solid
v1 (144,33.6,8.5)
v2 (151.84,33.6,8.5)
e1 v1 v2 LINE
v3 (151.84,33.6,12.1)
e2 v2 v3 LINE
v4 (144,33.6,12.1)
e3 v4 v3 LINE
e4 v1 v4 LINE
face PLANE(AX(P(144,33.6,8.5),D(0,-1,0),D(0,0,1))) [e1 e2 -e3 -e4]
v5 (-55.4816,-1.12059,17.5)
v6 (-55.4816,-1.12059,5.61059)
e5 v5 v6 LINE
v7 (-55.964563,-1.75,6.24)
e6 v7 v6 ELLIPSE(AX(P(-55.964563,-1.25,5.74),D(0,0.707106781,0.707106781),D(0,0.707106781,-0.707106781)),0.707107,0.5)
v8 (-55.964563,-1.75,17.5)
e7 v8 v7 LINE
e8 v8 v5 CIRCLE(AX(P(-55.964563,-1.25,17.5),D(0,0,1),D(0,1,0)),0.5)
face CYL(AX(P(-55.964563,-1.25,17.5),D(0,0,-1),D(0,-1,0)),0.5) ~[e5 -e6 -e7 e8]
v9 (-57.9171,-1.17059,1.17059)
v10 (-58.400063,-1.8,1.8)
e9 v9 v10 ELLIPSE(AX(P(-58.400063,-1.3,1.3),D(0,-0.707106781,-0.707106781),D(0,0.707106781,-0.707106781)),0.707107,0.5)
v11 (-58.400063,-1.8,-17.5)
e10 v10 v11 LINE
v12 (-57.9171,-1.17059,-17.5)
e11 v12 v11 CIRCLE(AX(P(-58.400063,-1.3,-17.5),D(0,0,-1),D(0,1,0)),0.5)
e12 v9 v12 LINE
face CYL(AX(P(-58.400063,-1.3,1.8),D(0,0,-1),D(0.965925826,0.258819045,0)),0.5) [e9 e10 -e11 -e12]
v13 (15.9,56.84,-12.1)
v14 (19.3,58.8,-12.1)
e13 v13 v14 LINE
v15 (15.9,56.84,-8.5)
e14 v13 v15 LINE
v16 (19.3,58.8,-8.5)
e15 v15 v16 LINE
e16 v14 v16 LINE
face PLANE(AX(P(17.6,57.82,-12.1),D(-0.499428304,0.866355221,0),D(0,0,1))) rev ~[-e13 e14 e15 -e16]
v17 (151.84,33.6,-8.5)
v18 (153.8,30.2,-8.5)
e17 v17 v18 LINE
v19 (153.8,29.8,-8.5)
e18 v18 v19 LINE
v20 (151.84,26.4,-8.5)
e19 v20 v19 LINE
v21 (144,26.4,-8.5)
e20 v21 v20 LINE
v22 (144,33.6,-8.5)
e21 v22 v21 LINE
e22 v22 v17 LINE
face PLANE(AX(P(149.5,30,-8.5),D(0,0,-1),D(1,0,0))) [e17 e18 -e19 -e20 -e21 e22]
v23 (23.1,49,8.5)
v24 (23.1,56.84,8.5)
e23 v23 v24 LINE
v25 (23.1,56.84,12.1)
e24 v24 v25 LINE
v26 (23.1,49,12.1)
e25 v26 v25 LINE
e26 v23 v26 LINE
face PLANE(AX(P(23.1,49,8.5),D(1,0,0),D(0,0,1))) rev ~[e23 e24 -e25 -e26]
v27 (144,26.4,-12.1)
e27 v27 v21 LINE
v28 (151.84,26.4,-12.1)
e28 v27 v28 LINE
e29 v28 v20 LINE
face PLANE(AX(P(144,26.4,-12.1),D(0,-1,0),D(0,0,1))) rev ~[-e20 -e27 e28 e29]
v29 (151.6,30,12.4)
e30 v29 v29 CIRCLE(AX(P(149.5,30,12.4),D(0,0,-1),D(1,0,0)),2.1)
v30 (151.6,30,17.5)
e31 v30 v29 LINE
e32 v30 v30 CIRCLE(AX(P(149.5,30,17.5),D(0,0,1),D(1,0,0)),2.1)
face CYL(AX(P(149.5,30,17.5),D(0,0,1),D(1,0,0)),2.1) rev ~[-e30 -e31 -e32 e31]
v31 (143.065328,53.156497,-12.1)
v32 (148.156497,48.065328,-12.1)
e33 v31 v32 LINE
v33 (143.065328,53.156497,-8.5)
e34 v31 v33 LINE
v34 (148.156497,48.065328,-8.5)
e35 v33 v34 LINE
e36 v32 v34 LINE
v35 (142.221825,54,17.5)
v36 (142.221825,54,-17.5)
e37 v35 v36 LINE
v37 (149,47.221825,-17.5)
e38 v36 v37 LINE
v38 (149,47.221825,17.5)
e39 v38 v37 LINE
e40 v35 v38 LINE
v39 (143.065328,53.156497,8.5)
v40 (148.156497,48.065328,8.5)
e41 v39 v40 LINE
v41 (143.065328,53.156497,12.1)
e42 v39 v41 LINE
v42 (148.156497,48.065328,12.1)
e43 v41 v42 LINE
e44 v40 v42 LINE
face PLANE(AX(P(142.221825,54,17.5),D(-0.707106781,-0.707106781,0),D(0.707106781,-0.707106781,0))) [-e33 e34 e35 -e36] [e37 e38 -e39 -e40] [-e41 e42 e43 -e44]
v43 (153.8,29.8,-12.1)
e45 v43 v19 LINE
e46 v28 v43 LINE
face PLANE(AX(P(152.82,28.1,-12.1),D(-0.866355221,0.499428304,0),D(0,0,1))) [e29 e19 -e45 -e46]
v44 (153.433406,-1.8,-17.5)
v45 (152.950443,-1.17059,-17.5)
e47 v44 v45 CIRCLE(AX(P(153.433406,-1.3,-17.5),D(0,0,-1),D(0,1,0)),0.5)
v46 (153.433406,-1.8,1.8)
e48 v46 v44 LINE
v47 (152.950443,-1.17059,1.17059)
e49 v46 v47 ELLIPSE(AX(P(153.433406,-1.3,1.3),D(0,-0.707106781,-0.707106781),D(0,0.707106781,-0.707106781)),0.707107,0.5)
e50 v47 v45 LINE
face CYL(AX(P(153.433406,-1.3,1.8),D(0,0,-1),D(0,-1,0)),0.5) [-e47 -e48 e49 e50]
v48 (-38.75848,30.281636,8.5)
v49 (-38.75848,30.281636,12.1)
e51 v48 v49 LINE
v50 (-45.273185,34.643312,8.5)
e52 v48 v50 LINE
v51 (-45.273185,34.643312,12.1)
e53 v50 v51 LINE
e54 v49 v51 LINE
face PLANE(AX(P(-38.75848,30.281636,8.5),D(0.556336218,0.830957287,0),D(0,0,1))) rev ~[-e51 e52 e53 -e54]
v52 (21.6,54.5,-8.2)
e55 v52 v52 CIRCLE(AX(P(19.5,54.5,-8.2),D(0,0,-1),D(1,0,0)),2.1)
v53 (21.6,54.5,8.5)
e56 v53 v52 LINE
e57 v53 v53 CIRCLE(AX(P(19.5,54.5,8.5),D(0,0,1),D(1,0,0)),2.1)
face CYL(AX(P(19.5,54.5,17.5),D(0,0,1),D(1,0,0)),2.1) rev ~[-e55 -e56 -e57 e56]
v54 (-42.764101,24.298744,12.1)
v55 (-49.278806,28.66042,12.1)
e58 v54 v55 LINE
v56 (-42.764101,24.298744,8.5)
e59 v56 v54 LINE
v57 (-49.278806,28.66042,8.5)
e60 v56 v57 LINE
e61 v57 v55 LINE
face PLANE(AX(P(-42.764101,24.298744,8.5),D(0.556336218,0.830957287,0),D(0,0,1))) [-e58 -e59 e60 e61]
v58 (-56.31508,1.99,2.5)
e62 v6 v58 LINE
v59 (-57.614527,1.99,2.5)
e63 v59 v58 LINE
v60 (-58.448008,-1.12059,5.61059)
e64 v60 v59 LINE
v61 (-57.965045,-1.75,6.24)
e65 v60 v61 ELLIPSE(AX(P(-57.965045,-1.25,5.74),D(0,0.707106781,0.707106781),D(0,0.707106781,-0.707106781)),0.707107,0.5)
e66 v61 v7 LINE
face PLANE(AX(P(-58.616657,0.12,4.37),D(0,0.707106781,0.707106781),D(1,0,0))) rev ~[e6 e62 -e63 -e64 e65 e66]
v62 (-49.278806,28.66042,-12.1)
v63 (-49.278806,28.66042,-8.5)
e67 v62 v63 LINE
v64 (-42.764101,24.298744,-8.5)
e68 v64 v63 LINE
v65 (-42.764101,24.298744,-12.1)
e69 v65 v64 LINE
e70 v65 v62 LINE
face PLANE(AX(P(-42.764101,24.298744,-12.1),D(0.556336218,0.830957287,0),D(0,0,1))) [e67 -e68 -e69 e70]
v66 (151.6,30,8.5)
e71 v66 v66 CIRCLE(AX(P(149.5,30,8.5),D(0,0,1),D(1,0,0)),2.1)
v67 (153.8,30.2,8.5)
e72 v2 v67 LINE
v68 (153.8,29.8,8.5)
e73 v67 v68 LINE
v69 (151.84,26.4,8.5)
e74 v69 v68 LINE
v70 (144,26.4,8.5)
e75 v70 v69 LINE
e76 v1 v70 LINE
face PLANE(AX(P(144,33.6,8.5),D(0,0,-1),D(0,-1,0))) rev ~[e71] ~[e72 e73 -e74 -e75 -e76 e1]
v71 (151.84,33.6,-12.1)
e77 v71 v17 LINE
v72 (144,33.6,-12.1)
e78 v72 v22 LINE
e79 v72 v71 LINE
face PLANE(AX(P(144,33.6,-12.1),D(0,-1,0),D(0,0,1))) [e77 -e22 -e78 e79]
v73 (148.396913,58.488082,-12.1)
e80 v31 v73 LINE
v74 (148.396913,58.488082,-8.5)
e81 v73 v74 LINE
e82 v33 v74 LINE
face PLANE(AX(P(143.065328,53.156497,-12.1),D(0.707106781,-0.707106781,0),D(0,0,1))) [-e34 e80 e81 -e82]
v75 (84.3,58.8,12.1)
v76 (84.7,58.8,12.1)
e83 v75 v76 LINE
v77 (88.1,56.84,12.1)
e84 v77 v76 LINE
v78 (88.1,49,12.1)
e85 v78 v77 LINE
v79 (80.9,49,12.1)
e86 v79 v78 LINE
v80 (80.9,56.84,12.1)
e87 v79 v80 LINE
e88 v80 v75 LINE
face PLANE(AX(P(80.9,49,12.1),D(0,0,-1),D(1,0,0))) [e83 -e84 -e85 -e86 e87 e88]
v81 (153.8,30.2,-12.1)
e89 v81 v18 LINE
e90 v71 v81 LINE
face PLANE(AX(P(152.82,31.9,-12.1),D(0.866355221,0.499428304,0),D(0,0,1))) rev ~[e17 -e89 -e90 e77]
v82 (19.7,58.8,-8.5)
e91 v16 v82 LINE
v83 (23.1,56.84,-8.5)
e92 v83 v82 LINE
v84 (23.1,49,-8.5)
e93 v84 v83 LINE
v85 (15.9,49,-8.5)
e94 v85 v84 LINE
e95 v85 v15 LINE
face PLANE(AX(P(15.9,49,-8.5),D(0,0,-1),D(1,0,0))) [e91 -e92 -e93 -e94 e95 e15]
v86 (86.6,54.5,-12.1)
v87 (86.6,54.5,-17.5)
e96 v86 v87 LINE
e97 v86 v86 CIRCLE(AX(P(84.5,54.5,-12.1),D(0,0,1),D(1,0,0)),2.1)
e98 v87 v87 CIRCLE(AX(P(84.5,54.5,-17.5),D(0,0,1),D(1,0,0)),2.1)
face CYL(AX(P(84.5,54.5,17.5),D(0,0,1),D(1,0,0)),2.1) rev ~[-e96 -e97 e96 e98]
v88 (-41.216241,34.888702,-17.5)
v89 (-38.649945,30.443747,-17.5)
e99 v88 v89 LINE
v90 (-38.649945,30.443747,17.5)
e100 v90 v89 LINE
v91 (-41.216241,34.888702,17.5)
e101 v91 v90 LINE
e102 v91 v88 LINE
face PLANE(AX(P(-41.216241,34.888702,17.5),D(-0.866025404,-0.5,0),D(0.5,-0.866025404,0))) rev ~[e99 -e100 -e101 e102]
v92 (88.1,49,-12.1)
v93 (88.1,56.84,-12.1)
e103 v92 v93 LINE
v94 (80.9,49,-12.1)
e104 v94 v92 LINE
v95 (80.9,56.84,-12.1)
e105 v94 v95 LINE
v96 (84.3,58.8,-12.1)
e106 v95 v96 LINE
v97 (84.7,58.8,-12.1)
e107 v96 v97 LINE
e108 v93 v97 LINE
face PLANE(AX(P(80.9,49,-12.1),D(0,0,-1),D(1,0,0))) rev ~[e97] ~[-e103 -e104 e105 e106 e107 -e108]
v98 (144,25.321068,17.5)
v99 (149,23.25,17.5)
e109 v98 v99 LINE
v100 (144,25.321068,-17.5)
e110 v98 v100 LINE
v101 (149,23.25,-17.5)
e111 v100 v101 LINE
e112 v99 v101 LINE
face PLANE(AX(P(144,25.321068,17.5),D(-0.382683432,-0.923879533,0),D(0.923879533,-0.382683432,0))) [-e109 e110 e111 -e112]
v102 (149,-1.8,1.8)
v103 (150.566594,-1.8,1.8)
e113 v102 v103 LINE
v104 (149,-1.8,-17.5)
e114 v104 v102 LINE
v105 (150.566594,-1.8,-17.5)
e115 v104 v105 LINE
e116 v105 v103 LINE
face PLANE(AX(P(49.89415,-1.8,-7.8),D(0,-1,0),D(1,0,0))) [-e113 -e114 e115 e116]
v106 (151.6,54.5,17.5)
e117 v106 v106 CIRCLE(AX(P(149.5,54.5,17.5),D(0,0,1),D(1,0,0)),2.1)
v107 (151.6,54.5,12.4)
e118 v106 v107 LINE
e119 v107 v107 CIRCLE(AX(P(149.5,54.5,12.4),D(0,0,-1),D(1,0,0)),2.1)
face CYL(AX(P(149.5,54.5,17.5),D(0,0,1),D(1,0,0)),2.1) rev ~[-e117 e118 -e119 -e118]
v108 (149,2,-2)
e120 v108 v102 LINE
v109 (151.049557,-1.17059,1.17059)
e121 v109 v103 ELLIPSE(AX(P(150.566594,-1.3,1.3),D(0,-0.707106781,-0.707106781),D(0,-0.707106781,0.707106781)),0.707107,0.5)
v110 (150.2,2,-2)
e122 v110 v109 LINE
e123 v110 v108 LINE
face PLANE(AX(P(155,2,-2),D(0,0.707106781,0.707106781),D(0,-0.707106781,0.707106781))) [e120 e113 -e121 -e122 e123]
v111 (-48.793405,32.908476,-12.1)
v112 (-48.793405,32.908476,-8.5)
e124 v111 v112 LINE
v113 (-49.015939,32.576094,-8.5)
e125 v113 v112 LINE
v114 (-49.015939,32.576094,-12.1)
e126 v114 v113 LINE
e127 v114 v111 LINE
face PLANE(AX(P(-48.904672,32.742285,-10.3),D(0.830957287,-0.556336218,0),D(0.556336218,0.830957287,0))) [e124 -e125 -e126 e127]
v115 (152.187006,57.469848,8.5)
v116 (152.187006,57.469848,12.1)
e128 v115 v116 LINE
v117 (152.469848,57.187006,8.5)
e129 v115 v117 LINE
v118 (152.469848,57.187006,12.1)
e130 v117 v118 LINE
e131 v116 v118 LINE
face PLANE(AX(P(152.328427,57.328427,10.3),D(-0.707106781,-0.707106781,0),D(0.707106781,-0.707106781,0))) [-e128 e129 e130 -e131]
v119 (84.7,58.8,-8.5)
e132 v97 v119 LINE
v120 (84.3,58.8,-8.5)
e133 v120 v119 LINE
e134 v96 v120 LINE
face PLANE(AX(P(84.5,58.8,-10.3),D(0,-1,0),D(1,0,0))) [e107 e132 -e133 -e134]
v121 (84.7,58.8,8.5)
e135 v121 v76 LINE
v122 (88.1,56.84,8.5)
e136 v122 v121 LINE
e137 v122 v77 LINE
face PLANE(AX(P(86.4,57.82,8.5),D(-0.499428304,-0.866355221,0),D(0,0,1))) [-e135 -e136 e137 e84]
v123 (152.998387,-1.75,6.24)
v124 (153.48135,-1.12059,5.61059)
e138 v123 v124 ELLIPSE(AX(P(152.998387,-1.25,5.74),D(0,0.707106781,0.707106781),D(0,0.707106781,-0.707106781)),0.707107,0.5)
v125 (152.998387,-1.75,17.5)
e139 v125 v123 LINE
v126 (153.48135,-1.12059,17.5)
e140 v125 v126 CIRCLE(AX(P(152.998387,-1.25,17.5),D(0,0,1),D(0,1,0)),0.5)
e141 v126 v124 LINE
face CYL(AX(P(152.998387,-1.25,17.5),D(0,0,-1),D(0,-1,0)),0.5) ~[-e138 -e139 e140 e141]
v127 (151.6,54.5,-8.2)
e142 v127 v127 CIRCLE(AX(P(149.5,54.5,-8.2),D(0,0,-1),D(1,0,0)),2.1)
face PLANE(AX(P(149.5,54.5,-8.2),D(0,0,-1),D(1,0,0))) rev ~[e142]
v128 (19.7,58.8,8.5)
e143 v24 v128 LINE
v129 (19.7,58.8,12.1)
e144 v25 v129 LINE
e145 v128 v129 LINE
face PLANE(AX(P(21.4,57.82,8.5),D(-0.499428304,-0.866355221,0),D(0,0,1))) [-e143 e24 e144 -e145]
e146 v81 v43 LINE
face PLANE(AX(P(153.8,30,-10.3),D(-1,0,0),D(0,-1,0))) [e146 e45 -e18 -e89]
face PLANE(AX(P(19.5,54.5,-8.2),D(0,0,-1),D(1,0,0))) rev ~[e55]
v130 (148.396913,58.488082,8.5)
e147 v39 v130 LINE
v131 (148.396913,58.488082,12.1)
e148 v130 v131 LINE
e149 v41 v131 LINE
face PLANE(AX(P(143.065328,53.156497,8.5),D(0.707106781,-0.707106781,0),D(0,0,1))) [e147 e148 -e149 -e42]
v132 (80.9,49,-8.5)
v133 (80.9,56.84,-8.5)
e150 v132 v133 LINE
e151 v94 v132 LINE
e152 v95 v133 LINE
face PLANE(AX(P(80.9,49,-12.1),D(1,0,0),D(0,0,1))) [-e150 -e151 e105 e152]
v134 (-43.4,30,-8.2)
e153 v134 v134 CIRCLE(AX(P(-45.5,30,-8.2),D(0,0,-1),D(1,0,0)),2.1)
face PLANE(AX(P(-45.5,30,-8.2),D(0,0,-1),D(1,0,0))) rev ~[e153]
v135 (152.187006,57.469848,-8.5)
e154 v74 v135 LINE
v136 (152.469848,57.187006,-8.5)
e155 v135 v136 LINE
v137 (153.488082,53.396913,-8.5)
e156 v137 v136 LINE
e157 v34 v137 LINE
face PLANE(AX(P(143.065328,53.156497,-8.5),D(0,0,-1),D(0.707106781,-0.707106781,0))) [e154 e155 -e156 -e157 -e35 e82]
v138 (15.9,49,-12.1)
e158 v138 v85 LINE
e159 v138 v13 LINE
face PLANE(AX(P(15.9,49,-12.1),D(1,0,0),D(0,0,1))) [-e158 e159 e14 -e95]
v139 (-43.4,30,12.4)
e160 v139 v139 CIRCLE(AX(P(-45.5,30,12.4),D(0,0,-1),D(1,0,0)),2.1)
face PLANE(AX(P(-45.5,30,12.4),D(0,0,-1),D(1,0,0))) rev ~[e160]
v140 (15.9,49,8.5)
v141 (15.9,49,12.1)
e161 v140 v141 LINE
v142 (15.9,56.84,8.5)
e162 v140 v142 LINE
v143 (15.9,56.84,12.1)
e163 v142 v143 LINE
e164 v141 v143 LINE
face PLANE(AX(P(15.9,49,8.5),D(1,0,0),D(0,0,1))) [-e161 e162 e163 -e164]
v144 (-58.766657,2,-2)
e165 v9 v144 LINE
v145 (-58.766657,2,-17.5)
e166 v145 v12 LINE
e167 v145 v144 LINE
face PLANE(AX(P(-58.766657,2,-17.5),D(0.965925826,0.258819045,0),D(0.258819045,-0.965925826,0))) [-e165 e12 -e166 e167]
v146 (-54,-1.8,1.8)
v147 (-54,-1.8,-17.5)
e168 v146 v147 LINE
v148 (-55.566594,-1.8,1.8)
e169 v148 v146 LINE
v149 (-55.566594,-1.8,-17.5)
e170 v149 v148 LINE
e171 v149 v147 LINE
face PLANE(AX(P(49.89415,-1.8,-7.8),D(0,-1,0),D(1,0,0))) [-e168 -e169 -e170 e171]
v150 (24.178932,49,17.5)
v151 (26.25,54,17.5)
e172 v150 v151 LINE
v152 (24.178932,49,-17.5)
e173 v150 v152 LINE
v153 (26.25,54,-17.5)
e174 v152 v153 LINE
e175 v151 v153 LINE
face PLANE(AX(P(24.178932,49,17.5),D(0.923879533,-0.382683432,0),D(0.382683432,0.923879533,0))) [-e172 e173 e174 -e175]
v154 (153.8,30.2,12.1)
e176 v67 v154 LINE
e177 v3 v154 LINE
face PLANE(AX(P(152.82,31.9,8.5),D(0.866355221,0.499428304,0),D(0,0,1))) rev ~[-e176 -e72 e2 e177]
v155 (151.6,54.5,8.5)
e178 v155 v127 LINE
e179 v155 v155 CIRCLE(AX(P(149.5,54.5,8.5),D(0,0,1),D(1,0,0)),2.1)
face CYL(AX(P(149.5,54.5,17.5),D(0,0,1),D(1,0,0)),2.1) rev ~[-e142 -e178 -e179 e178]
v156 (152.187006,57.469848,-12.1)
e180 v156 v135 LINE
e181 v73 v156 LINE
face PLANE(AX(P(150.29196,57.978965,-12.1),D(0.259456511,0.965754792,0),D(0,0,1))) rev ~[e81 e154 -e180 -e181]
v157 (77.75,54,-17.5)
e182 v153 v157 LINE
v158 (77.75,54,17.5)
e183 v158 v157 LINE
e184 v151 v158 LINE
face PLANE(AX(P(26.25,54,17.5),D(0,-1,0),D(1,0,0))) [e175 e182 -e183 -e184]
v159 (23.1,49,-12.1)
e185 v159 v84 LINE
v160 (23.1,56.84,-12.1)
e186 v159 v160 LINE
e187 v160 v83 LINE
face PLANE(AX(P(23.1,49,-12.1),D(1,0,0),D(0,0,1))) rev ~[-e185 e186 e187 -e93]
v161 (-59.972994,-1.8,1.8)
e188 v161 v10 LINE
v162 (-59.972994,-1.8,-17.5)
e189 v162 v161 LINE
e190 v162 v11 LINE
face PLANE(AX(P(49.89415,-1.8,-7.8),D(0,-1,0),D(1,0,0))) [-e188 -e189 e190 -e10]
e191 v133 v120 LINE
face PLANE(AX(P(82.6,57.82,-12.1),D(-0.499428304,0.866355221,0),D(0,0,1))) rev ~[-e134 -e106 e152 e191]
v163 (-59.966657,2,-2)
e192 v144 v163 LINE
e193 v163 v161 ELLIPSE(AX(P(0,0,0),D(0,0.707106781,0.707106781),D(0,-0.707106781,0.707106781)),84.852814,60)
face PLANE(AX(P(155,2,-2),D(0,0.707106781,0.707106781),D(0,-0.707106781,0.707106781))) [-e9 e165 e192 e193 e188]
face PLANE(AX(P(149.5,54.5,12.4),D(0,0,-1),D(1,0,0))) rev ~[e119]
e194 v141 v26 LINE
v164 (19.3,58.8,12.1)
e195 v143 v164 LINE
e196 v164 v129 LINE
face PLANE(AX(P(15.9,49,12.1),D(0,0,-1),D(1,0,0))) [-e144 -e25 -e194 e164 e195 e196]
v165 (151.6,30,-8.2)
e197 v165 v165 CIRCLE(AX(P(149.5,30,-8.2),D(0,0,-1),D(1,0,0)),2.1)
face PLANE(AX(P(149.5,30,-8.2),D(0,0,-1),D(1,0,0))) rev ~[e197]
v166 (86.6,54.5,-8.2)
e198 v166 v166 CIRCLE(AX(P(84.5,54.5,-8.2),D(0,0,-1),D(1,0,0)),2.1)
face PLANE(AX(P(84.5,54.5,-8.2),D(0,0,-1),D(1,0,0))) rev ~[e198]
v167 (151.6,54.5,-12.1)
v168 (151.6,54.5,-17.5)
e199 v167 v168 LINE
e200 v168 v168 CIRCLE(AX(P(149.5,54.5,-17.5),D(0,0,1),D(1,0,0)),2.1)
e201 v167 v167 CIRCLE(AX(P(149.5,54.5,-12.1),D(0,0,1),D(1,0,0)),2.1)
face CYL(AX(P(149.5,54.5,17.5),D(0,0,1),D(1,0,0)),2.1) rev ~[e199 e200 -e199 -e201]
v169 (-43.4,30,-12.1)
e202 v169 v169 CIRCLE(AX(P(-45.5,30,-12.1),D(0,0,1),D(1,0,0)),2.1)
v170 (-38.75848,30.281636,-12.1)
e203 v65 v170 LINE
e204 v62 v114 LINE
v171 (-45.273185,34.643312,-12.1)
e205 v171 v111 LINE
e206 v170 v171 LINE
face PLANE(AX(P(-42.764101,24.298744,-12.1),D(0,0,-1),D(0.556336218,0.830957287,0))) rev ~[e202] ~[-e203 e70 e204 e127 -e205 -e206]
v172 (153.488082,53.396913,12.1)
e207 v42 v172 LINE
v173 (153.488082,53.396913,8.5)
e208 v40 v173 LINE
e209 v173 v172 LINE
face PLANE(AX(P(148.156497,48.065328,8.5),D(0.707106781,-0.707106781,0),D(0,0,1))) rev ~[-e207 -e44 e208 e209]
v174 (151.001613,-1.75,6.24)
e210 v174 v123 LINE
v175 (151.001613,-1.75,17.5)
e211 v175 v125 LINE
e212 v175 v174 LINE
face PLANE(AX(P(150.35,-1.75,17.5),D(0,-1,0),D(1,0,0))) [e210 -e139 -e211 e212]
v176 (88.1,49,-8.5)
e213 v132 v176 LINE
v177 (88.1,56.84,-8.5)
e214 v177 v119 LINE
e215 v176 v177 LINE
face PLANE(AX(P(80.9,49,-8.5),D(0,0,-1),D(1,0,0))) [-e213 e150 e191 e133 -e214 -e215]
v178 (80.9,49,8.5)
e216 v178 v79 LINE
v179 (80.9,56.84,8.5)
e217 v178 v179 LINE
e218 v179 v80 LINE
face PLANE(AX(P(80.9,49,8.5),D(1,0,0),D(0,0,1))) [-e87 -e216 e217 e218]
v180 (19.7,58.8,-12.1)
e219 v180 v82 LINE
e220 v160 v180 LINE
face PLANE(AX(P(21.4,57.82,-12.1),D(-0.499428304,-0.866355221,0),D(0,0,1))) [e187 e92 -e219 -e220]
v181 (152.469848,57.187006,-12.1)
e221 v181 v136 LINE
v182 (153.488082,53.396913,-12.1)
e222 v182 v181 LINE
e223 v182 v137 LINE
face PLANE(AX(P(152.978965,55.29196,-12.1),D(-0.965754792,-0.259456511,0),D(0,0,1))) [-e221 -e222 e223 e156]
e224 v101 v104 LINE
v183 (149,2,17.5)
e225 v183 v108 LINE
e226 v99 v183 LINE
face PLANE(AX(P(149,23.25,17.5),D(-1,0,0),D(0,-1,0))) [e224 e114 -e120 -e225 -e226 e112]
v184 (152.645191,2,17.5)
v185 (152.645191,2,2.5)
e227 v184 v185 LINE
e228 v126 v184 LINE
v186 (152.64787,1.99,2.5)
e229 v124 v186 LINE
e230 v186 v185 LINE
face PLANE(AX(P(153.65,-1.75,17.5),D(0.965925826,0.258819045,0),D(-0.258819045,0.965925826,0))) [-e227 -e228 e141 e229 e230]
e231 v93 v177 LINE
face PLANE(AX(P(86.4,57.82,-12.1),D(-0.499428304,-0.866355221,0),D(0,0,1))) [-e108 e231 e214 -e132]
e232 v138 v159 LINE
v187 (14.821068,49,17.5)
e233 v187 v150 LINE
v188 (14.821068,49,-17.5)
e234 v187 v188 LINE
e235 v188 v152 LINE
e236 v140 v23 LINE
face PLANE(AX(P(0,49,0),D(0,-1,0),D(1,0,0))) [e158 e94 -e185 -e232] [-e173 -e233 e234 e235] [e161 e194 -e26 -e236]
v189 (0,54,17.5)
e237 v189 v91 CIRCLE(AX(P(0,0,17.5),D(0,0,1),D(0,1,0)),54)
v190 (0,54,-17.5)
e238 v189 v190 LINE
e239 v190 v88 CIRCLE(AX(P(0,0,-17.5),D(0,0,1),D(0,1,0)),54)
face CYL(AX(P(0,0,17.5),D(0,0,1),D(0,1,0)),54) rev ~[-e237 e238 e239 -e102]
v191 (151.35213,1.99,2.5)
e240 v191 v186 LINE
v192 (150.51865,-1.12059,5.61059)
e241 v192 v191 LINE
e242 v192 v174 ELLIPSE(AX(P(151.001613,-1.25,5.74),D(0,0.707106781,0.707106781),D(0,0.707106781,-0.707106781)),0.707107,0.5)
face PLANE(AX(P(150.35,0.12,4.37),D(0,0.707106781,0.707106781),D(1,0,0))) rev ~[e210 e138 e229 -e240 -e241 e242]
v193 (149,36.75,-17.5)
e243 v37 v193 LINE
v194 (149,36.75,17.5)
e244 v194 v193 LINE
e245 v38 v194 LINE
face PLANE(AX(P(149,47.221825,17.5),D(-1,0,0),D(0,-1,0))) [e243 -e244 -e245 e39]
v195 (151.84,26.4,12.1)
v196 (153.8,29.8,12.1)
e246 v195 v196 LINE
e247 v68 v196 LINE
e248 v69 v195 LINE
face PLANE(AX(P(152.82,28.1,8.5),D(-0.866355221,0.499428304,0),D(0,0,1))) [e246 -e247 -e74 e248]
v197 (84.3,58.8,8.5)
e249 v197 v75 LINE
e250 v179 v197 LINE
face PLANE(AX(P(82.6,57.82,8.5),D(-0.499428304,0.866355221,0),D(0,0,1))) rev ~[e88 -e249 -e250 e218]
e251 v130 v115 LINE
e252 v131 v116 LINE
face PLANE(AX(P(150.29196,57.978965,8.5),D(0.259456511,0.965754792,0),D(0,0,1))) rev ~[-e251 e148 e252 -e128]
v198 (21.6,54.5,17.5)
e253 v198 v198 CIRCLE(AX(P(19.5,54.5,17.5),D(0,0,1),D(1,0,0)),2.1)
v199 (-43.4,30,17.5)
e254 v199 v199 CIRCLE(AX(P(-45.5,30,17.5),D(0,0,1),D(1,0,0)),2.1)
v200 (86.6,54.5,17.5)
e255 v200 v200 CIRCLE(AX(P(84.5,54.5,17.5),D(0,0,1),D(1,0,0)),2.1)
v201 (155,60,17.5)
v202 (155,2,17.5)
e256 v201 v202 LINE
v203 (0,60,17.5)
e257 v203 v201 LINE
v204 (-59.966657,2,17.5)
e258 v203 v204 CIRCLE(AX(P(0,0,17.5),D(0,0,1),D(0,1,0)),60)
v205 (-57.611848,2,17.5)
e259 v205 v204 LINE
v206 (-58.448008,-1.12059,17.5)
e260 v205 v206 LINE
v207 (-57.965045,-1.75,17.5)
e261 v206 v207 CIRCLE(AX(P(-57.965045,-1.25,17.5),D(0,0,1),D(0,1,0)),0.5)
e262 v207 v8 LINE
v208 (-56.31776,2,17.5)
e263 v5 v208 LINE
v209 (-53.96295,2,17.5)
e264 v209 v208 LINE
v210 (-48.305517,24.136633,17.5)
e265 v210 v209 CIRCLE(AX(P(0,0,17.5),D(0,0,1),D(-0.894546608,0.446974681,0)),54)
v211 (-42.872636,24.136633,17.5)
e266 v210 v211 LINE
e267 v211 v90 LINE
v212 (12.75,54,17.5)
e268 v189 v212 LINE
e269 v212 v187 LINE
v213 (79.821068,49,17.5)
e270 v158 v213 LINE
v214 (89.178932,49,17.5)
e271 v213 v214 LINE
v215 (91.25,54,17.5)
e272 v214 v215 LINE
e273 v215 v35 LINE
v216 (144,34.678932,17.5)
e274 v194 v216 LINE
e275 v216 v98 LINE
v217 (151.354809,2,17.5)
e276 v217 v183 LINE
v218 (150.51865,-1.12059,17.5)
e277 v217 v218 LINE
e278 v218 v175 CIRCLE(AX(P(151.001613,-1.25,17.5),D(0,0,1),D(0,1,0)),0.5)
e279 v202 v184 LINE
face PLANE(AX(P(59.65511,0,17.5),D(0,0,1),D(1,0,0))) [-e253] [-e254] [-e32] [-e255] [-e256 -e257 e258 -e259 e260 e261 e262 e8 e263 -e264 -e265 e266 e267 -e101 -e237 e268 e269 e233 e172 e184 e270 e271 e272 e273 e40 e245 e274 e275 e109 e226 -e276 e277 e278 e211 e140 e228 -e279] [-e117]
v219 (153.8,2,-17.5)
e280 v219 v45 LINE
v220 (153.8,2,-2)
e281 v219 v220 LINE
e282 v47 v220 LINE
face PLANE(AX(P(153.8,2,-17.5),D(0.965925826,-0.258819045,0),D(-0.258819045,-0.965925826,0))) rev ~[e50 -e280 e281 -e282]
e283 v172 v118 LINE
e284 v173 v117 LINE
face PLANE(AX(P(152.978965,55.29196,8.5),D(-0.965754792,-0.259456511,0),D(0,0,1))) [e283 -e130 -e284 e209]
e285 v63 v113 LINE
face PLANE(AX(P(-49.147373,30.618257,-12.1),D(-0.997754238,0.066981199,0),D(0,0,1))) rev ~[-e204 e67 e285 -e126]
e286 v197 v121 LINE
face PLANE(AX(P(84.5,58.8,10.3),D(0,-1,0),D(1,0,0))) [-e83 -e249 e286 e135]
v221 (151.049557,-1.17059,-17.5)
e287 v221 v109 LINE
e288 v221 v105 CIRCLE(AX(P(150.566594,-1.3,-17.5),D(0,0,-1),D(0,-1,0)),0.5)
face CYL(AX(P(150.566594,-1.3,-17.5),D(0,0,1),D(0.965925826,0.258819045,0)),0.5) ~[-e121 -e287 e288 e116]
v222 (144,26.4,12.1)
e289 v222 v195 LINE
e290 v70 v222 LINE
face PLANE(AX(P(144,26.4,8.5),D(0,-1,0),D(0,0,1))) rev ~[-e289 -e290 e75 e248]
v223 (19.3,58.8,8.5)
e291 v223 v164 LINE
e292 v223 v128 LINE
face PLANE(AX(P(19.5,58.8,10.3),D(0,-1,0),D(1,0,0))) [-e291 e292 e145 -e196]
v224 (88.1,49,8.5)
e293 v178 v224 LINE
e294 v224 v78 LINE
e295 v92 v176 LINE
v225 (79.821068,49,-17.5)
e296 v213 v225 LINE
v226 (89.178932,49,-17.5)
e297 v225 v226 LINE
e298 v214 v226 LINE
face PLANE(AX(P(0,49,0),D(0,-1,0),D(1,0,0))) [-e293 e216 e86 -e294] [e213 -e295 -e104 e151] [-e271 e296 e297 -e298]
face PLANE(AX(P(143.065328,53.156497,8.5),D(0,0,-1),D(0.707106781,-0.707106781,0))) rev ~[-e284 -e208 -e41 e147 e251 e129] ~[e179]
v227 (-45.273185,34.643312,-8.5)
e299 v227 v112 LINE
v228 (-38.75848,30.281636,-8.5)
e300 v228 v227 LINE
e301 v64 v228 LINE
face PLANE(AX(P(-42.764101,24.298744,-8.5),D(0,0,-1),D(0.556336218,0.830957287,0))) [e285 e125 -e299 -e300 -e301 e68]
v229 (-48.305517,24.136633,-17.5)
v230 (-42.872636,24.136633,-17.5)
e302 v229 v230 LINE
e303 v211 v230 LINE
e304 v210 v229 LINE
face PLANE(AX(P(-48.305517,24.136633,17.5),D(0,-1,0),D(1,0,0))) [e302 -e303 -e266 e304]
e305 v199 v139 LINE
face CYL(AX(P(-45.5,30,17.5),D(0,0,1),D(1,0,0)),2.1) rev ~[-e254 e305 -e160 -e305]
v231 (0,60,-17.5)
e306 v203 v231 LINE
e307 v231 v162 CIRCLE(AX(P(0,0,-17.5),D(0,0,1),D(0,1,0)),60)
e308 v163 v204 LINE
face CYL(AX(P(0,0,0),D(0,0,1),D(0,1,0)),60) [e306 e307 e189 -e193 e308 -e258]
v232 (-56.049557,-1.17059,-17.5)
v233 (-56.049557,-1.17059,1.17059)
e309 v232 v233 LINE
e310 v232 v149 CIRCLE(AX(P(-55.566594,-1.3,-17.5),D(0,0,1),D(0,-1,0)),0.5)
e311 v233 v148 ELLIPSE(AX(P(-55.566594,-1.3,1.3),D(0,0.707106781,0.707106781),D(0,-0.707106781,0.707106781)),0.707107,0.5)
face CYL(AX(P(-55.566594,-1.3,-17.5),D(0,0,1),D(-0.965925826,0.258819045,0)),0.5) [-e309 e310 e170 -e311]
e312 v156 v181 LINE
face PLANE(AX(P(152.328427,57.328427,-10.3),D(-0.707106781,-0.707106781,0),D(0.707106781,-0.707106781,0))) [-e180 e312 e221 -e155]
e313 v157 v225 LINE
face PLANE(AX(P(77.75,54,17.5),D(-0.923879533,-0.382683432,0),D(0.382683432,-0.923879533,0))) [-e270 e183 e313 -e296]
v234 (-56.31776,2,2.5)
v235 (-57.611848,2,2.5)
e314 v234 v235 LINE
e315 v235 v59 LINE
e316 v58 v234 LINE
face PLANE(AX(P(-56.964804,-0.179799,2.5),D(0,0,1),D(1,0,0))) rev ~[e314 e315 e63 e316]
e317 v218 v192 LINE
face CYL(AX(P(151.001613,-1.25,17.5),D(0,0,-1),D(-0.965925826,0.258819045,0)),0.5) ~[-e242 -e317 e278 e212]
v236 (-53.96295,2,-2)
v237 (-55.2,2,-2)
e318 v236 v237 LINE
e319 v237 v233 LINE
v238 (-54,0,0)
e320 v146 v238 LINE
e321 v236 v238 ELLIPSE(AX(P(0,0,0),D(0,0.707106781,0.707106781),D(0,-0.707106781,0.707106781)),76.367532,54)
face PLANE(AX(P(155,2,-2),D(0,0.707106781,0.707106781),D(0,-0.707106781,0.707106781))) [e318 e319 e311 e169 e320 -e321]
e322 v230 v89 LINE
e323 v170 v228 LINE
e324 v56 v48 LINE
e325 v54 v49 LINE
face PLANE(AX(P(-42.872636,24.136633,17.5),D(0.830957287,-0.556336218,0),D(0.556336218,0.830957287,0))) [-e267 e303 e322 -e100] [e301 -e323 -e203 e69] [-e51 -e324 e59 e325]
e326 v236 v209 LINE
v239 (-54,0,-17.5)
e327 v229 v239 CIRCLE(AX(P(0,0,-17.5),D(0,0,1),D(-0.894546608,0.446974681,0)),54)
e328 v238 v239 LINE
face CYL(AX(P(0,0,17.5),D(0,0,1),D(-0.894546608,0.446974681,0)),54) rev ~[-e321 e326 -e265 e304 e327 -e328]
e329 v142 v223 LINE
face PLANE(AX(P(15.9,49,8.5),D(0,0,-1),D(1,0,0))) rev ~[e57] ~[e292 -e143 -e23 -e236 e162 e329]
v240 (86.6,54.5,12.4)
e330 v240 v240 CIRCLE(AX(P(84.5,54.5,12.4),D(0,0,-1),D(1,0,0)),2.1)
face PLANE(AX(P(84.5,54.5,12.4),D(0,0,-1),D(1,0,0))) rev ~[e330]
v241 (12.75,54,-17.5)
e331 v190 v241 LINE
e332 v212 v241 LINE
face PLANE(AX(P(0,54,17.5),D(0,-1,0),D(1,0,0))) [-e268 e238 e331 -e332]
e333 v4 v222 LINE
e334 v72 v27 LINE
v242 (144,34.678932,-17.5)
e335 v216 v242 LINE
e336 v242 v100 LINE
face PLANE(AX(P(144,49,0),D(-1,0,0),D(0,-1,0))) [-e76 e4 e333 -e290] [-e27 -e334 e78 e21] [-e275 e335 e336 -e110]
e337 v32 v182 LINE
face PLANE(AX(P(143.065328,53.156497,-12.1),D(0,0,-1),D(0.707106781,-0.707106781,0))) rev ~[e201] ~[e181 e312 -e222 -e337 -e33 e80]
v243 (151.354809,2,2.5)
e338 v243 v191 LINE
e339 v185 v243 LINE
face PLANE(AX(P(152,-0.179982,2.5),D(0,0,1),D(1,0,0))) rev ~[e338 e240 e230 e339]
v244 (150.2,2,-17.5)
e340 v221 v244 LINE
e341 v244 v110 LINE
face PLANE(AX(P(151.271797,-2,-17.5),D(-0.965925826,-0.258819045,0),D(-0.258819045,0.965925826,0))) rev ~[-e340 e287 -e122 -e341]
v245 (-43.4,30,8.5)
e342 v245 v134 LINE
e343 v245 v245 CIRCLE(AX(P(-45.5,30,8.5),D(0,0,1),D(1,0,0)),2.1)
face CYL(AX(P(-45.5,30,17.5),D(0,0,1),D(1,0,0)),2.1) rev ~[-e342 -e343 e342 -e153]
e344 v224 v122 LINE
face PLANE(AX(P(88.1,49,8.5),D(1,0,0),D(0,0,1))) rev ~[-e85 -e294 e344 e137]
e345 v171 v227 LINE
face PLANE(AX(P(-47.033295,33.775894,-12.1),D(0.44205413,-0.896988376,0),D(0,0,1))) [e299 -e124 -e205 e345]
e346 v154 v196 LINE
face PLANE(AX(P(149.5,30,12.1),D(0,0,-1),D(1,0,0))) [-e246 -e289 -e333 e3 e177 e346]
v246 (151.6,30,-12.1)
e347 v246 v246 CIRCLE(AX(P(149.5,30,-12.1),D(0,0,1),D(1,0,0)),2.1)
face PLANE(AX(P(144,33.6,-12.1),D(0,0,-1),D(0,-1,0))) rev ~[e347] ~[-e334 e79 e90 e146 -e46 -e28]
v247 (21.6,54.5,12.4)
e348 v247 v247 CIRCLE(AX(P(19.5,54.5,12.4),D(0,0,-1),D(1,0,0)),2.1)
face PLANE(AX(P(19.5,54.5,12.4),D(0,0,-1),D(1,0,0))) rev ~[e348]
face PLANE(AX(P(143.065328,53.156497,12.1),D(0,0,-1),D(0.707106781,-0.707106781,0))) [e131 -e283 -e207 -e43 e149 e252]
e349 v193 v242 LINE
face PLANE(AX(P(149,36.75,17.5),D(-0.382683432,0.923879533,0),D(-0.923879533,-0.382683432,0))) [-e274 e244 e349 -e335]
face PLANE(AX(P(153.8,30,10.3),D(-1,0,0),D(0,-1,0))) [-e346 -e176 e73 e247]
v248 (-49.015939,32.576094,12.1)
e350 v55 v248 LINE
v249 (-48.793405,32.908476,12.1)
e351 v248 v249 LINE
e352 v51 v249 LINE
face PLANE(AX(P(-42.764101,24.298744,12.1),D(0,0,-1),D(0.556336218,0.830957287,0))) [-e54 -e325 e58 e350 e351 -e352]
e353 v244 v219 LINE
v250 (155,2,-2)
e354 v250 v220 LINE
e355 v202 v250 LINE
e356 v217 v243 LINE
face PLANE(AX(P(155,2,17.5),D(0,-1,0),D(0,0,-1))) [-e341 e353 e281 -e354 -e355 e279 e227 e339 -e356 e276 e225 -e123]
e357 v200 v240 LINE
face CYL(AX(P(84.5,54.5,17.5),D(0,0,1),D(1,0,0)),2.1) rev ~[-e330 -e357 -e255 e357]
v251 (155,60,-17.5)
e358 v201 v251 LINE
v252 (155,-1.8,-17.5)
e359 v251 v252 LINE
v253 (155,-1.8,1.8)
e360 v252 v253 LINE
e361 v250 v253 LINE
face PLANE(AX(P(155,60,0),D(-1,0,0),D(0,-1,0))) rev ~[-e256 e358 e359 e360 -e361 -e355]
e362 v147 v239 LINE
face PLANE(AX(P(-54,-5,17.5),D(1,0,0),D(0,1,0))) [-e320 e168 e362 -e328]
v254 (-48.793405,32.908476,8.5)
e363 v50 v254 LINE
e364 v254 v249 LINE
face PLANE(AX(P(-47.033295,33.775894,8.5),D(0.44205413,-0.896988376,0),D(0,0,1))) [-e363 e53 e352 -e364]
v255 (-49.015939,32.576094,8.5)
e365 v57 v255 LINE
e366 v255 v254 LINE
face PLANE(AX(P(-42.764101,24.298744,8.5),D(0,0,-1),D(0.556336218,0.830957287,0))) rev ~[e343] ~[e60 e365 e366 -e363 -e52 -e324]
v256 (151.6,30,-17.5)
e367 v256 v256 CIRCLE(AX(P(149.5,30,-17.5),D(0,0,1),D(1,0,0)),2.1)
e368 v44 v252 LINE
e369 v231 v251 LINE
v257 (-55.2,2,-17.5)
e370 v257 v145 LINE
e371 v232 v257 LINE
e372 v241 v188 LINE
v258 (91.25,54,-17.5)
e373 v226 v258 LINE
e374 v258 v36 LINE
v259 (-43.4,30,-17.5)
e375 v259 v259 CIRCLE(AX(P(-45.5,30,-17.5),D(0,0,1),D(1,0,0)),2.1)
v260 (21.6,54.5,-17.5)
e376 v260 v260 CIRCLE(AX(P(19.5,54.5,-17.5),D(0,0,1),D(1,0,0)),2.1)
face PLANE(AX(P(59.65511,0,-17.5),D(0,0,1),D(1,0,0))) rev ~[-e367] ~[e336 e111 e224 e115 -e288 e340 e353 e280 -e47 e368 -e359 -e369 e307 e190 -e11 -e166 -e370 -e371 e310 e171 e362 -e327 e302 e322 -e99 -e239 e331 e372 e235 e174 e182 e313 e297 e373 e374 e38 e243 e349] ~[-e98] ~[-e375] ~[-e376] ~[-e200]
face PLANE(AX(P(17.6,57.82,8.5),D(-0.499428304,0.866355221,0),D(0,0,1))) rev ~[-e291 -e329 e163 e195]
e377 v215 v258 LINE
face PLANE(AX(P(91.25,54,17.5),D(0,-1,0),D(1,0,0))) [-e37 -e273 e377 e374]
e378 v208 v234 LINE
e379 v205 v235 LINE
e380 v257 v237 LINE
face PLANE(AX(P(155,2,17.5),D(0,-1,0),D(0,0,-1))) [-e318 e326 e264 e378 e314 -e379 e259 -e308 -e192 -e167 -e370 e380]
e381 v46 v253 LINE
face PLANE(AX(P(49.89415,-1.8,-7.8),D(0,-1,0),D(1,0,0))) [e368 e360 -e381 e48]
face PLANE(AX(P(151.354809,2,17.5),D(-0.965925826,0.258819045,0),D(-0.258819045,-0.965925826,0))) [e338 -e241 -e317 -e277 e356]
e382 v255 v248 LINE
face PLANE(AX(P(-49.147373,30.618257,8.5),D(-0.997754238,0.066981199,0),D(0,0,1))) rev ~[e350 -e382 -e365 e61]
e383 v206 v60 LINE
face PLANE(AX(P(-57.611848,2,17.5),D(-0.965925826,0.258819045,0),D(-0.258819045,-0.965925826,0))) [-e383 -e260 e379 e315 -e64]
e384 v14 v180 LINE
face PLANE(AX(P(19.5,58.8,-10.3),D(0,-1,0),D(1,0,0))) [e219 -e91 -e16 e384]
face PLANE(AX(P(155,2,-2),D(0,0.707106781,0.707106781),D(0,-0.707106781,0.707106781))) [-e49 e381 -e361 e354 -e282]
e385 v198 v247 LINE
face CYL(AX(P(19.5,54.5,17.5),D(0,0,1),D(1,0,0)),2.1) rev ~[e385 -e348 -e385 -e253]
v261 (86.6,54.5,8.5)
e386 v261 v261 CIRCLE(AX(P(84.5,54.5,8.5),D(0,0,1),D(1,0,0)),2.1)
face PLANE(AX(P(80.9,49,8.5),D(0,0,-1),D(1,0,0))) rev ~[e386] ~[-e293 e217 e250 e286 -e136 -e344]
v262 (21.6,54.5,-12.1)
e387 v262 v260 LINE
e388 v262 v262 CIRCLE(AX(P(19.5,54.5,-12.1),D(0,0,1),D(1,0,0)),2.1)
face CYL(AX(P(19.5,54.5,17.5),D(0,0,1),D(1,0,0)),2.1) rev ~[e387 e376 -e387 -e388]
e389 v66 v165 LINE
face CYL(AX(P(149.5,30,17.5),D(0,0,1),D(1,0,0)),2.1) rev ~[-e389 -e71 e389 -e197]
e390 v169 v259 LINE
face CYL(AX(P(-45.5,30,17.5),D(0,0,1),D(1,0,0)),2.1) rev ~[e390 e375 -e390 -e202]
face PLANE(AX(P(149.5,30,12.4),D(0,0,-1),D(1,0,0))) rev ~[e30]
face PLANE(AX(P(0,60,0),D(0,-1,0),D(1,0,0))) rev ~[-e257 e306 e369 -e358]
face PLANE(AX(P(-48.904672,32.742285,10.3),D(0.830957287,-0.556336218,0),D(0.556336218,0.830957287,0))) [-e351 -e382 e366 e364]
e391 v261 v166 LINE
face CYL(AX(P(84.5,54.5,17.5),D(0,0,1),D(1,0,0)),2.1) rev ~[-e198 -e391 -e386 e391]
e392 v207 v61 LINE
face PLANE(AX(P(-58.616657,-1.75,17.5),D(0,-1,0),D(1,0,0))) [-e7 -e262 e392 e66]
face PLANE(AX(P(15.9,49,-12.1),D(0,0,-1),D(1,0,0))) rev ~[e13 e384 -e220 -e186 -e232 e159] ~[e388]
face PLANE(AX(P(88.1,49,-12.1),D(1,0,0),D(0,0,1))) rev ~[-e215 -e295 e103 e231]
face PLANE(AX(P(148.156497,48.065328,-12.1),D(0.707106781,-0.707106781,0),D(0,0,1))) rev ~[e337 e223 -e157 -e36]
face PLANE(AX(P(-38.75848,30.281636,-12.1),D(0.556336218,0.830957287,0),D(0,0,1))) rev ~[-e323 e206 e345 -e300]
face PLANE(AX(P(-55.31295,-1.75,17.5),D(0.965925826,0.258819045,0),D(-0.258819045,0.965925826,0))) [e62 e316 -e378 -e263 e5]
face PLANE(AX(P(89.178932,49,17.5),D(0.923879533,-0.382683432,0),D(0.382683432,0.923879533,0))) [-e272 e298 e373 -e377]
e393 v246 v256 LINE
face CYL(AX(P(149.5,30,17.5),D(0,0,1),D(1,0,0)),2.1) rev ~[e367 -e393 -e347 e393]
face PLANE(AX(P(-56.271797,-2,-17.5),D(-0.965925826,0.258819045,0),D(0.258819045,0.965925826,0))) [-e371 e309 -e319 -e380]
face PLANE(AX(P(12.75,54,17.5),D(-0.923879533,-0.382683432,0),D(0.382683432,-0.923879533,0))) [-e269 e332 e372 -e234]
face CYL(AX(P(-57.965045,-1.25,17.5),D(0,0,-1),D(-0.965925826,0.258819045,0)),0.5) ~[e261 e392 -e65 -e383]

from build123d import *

# Parameters (mm, degrees)
PAD_DEPTH           = 17.5
POCKET_DEPTH        = 215.001
SKETCH002_R         = 2.1
POCKET001_DEPTH     = 35.001
PAD001_DEPTH        = 15
POCKET002_DEPTH     = 19.9
CHAMFER_SIZE        = 3.74
FILLET_R            = 0.5
SKETCH005_W         = 7.2
SKETCH005_H         = 3.6
POCKET003_DEPTH     = 9.8
SKETCH006_W         = 7.2
SKETCH006_H         = 3.6
POCKET004_DEPTH     = 9.8
SKETCH007_W         = 7.2
SKETCH007_H         = 3.6
SKETCH007_W_2       = 7.1999999999
POCKET005_DEPTH     = 9.8
SKETCH008_W         = 7.2
SKETCH008_H         = 3.6
POCKET006_DEPTH     = 9.5
SKETCH009_W         = 220
SKETCH009_H         = 20
POCKET007_DEPTH     = 0.2
FILLET001_R         = 0.5
SKETCH010_R         = 2.1
PAD002_DEPTH        = 0.3
LINEARPATTERN_COUNT = 2
LINEARPATTERN_PITCH = 20.6
CHAMFER001_1_SIZE2  = 3.4
CHAMFER001_1_SIZE   = 1.96
CHAMFER001_2_SIZE2  = 3.4
CHAMFER001_2_SIZE   = 1.96
CHAMFER001_3_SIZE2  = 3.4
CHAMFER001_3_SIZE   = 1.96
CHAMFER001_4_SIZE2  = 3.4
CHAMFER001_4_SIZE   = 1.96
CHAMFER001_5_SIZE2  = 3.4
CHAMFER001_5_SIZE   = 1.96
CHAMFER001_6_SIZE2  = 3.4
CHAMFER001_6_SIZE   = 1.96
CHAMFER001_7_SIZE2  = 3.4
CHAMFER001_7_SIZE   = 1.96
CHAMFER001_8_SIZE2  = 3.4
CHAMFER001_8_SIZE   = 1.96
CHAMFER001_9_SIZE2  = 3.4
CHAMFER001_9_SIZE   = 1.96
CHAMFER001_10_SIZE2 = 3.4
CHAMFER001_10_SIZE  = 1.96
CHAMFER001_11_SIZE2 = 3.4
CHAMFER001_11_SIZE  = 1.96
CHAMFER001_12_SIZE2 = 3.4
CHAMFER001_12_SIZE  = 1.96
CHAMFER001_13_SIZE2 = 3.4
CHAMFER001_13_SIZE  = 1.96
CHAMFER001_14_SIZE2 = 3.4
CHAMFER001_14_SIZE  = 1.96
CHAMFER001_15_SIZE2 = 3.4
CHAMFER001_15_SIZE  = 1.96
CHAMFER001_16_SIZE2 = 3.4
CHAMFER001_16_SIZE  = 1.96
CHAMFER001_17_SIZE2 = 3.4
CHAMFER001_17_SIZE  = 1.96
CHAMFER001_18_SIZE2 = 3.4
CHAMFER001_18_SIZE  = 1.96
CHAMFER001_19_SIZE2 = 3.4
CHAMFER001_19_SIZE  = 1.96
CHAMFER001_20_SIZE2 = 3.4
CHAMFER001_20_SIZE  = 1.96


with BuildPart() as part:
    # Sketch → Pad (new body, symmetric)
    with BuildSketch(Plane.XY):
        with BuildLine():
            ThreePointArc((0, 60), (-60, 0), (0, -60))
            Line((155, -60), (0, -60))
            Line((155, 60), (155, -60))
            Line((0, 60), (155, 60))
        make_face()
        with BuildLine():
            ThreePointArc((0, 49), (-49, 0), (0, -49))
            Line((144, -49), (0, -49))
            Line((144, 49), (144, -49))
            Line((0, 49), (144, 49))
        make_face(mode=Mode.SUBTRACT)
    extrude(amount=PAD_DEPTH, both=True)

    # Sketch001 (on Face3 of Pad) → Pocket (cut, through all)
    with BuildSketch(Plane.YZ.offset(155)):
        Polygon((2, 17.5), (2, -2), (-2, 2), (-2, -17.5), (-60, -17.5), (-60, 17.5), align=None)
    extrude(amount=-POCKET_DEPTH, mode=Mode.SUBTRACT)

    # Sketch002 (on Face6 of Pocket) → Pocket001 (cut, through all)
    with BuildSketch(Plane.XY.offset(17.5)):
        with Locations((149.5, 54.5)):
            Circle(SKETCH002_R)
        with Locations((84.5, 54.5)):
            Circle(SKETCH002_R)
        with Locations((149.5, 30)):
            Circle(SKETCH002_R)
        with Locations((19.5, 54.5)):
            Circle(SKETCH002_R)
        with Locations((-45.5, 30)):
            Circle(SKETCH002_R)
        with BuildLine():
            ThreePointArc((0, 54), (-22.7157445757, 48.9897432977), (-41.216240577, 34.8887017915))
            Line((-41.216240577, 34.8887017915), (-38.6499449551, 30.4437473871))
            Line((-42.8726364739, 24.1366327763), (-38.6499449551, 30.4437473871))
            Line((-48.3055168508, 24.1366327763), (-42.8726364739, 24.1366327763))
            ThreePointArc((-48.3055168508, 24.1366327763), (-52.557101851, 12.3996389072), (-54, 0))
            Line((-54, -5), (-54, 0))
            Line((149, -5), (-54, -5))
            Line((149, 23.25), (149, -5))
            Line((144, 25.3210678119), (149, 23.25))
            Line((144, 34.6789321881), (144, 25.3210678119))
            Line((149, 36.75), (144, 34.6789321881))
            Line((149, 47.2218254069), (149, 36.75))
            Line((142.2218254069, 54), (149, 47.2218254069))
            Line((91.25, 54), (142.2218254069, 54))
            Line((89.1789321881, 49), (91.25, 54))
            Line((79.8210678119, 49), (89.1789321881, 49))
            Line((77.75, 54), (79.8210678119, 49))
            Line((26.25, 54), (77.75, 54))
            Line((24.1789321881, 49), (26.25, 54))
            Line((14.8210678119, 49), (24.1789321881, 49))
            Line((12.75, 54), (14.8210678119, 49))
            Line((0, 54), (12.75, 54))
        make_face()
    extrude(amount=-POCKET001_DEPTH, mode=Mode.SUBTRACT)

    # Sketch003 (on Face6 of Pocket001) → Pad001 (join)
    with BuildSketch(Plane.XY.offset(17.5)):
        Polygon((-57.6118479306, 2), (-58.6166574023, -1.75), (-55.3129502529, -1.75), (-56.3177597245, 2), align=None)
        Polygon((151.3548094716, 2), (150.35, -1.75), (153.65, -1.75), (152.6451905284, 2), align=None)
    extrude(amount=-PAD001_DEPTH)

    # Sketch004 (on Face2 of Pad001) → Pocket002 (cut)
    with BuildSketch(Plane(origin=(0, 0, -17.5), x_dir=(1, 0, 0), z_dir=(0, 0, -1))):
        Polygon((-57.6948606325, 2), (-56.2717967697, 2), (-55.2, -2), (-58.7666574023, -2), align=None)
        Polygon((152.7282032303, 2), (151.2717967697, 2), (150.2, -2), (153.8, -2), align=None)
    extrude(amount=-POCKET002_DEPTH, mode=Mode.SUBTRACT)

    # Chamfer
    chamfer_edges = [part.edges().sort_by_distance(p)[0] for p in [
        (-56.964804, -1.75, 2.5),
        (152, -1.75, 2.5),
    ]]
    chamfer(chamfer_edges, length=CHAMFER_SIZE)

    # Fillet
    fillet_edges = [part.edges().sort_by_distance(p)[0] for p in [
        (-58.616657, -1.75, 11.87),
        (-55.31295, -1.75, 11.87),
        (150.35, -1.75, 11.87),
        (153.65, -1.75, 11.87),
    ]]
    fillet(fillet_edges, radius=FILLET_R)

    # Sketch005 (on Face28 of Fillet) → Pocket003 (cut)
    with BuildSketch(Plane.XZ.offset(-49)):
        with Locations((19.5, 10.3)):
            Rectangle(SKETCH005_W, SKETCH005_H)
        with Locations((19.5, -10.3)):
            Rectangle(SKETCH005_W, SKETCH005_H)
        with Locations((84.5, 10.3)):
            Rectangle(SKETCH005_W, SKETCH005_H)
        with Locations((84.5, -10.3)):
            Rectangle(SKETCH005_W, SKETCH005_H)
    extrude(amount=-POCKET003_DEPTH, mode=Mode.SUBTRACT)

    # Sketch006 (on Face22 of Pocket003) → Pocket004 (cut)
    with BuildSketch(Plane(origin=(144, 0, 0), x_dir=(0, -1, 0), z_dir=(-1, 0, 0))):
        with Locations((-30, 10.3)):
            Rectangle(SKETCH006_W, SKETCH006_H)
        with Locations((-30, -10.3)):
            Rectangle(SKETCH006_W, SKETCH006_H)
    extrude(amount=-POCKET004_DEPTH, mode=Mode.SUBTRACT)

    # Sketch007 (on Face37 of Pocket004) → Pocket005 (cut)
    with BuildSketch(Plane(origin=(-40.7612907145, 27.2901900817, 0), x_dir=(0.5563362178, 0.8309572869, 0), z_dir=(0.8309572869, -0.5563362178, 0))):
        with Locations((0, 10.3)):
            Rectangle(SKETCH007_W, SKETCH007_H)
        with Locations((0, -10.3)):
            Rectangle(SKETCH007_W_2, SKETCH007_H)
    extrude(amount=-POCKET005_DEPTH, mode=Mode.SUBTRACT)

    # Sketch008 (on Face25 of Pocket005) → Pocket006 (cut)
    with BuildSketch(Plane(origin=(98.1109127035, 98.1109127035, 0), x_dir=(0.7071067812, -0.7071067812, 0), z_dir=(-0.7071067812, -0.7071067812, 0))):
        with Locations((67.1751442127, 10.3)):
            Rectangle(SKETCH008_W, SKETCH008_H)
        with Locations((67.1751442127, -10.3)):
            Rectangle(SKETCH008_W, SKETCH008_H)
    extrude(amount=-POCKET006_DEPTH, mode=Mode.SUBTRACT)

    # Sketch009 (on Face51 of Pocket006) → Pocket007 (cut)
    with BuildSketch(Plane.XZ.offset(2)):
        with Locations((49.89415, -7.8)):
            Rectangle(SKETCH009_W, SKETCH009_H)
    extrude(amount=-POCKET007_DEPTH, mode=Mode.SUBTRACT)

    # Fillet001
    fillet001_edges = [part.edges().sort_by_distance(p)[0] for p in [
        (152.781793, -1.8, -7.85),
        (151.218207, -1.8, -7.85),
        (-56.218207, -1.8, -7.85),
        (-57.74845, -1.8, -7.85),
    ]]
    fillet(fillet001_edges, radius=FILLET001_R)

    # Sketch010 (on Face86 of Fillet001) → Pad002 (join)
    with BuildSketch(Plane(origin=(0, 0, -8.5), x_dir=(1, 0, 0), z_dir=(0, 0, -1))):
        with Locations((149.5, -30)):
            Circle(SKETCH010_R)
        with Locations((149.5, -54.5)):
            Circle(SKETCH010_R)
        with Locations((84.5, -54.5)):
            Circle(SKETCH010_R)
        with Locations((19.5, -54.5)):
            Circle(SKETCH010_R)
        with Locations((-45.5, -30)):
            Circle(SKETCH010_R)
    pad002 = extrude(amount=-PAD002_DEPTH)

    # LinearPattern: Pad002 ×2
    with Locations(*[(0, 0, i * LINEARPATTERN_PITCH) for i in range(1, LINEARPATTERN_COUNT)]):
        add(pad002)

    # Chamfer001 1
    chamfer001_1_edges = [part.edges().sort_by_distance(p)[0] for p in [
        (-50.907483, 29.750839, -10.3),
    ]]
    chamfer001_1_side = part.faces().sort_by_distance((-46.835792, 27.024791, -10.3))[0]
    chamfer(chamfer001_1_edges, length=CHAMFER001_1_SIZE, length2=CHAMFER001_1_SIZE2, reference=chamfer001_1_side)

    # Chamfer001 2
    chamfer001_2_edges = [part.edges().sort_by_distance(p)[0] for p in [
        (-46.901862, 35.733731, -10.3),
    ]]
    chamfer001_2_side = part.faces().sort_by_distance((-42.830171, 33.007684, -10.3))[0]
    chamfer(chamfer001_2_edges, length=CHAMFER001_2_SIZE, length2=CHAMFER001_2_SIZE2, reference=chamfer001_2_side)

    # Chamfer001 3
    chamfer001_3_edges = [part.edges().sort_by_distance(p)[0] for p in [
        (-46.901862, 35.733731, 10.3),
    ]]
    chamfer001_3_side = part.faces().sort_by_distance((-42.830171, 33.007684, 10.3))[0]
    chamfer(chamfer001_3_edges, length=CHAMFER001_3_SIZE, length2=CHAMFER001_3_SIZE2, reference=chamfer001_3_side)

    # Chamfer001 4
    chamfer001_4_edges = [part.edges().sort_by_distance(p)[0] for p in [
        (-50.907483, 29.750839, 10.3),
    ]]
    chamfer001_4_side = part.faces().sort_by_distance((-46.835792, 27.024791, 10.3))[0]
    chamfer(chamfer001_4_edges, length=CHAMFER001_4_SIZE, length2=CHAMFER001_4_SIZE2, reference=chamfer001_4_side)

    # Chamfer001 5
    chamfer001_5_edges = [part.edges().sort_by_distance(p)[0] for p in [
        (15.9, 58.8, 10.3),
    ]]
    chamfer001_5_side = part.faces().sort_by_distance((15.9, 53.9, 10.3))[0]
    chamfer(chamfer001_5_edges, length=CHAMFER001_5_SIZE, length2=CHAMFER001_5_SIZE2, reference=chamfer001_5_side)

    # Chamfer001 6
    chamfer001_6_edges = [part.edges().sort_by_distance(p)[0] for p in [
        (23.1, 58.8, 10.3),
    ]]
    chamfer001_6_side = part.faces().sort_by_distance((23.1, 53.9, 10.3))[0]
    chamfer(chamfer001_6_edges, length=CHAMFER001_6_SIZE, length2=CHAMFER001_6_SIZE2, reference=chamfer001_6_side)

    # Chamfer001 7
    chamfer001_7_edges = [part.edges().sort_by_distance(p)[0] for p in [
        (15.9, 58.8, -10.3),
    ]]
    chamfer001_7_side = part.faces().sort_by_distance((15.9, 53.9, -10.3))[0]
    chamfer(chamfer001_7_edges, length=CHAMFER001_7_SIZE, length2=CHAMFER001_7_SIZE2, reference=chamfer001_7_side)

    # Chamfer001 8
    chamfer001_8_edges = [part.edges().sort_by_distance(p)[0] for p in [
        (23.1, 58.8, -10.3),
    ]]
    chamfer001_8_side = part.faces().sort_by_distance((23.1, 53.9, -10.3))[0]
    chamfer(chamfer001_8_edges, length=CHAMFER001_8_SIZE, length2=CHAMFER001_8_SIZE2, reference=chamfer001_8_side)

    # Chamfer001 9
    chamfer001_9_edges = [part.edges().sort_by_distance(p)[0] for p in [
        (80.9, 58.8, 10.3),
    ]]
    chamfer001_9_side = part.faces().sort_by_distance((80.9, 53.9, 10.3))[0]
    chamfer(chamfer001_9_edges, length=CHAMFER001_9_SIZE, length2=CHAMFER001_9_SIZE2, reference=chamfer001_9_side)

    # Chamfer001 10
    chamfer001_10_edges = [part.edges().sort_by_distance(p)[0] for p in [
        (88.1, 58.8, 10.3),
    ]]
    chamfer001_10_side = part.faces().sort_by_distance((88.1, 53.9, 10.3))[0]
    chamfer(chamfer001_10_edges, length=CHAMFER001_10_SIZE, length2=CHAMFER001_10_SIZE2, reference=chamfer001_10_side)

    # Chamfer001 11
    chamfer001_11_edges = [part.edges().sort_by_distance(p)[0] for p in [
        (80.9, 58.8, -10.3),
    ]]
    chamfer001_11_side = part.faces().sort_by_distance((80.9, 53.9, -10.3))[0]
    chamfer(chamfer001_11_edges, length=CHAMFER001_11_SIZE, length2=CHAMFER001_11_SIZE2, reference=chamfer001_11_side)

    # Chamfer001 12
    chamfer001_12_edges = [part.edges().sort_by_distance(p)[0] for p in [
        (88.1, 58.8, -10.3),
    ]]
    chamfer001_12_side = part.faces().sort_by_distance((88.1, 53.9, -10.3))[0]
    chamfer(chamfer001_12_edges, length=CHAMFER001_12_SIZE, length2=CHAMFER001_12_SIZE2, reference=chamfer001_12_side)

    # Chamfer001 13
    chamfer001_13_edges = [part.edges().sort_by_distance(p)[0] for p in [
        (149.782843, 59.874012, 10.3),
    ]]
    chamfer001_13_side = part.faces().sort_by_distance((146.424086, 56.515254, 10.3))[0]
    chamfer(chamfer001_13_edges, length=CHAMFER001_13_SIZE, length2=CHAMFER001_13_SIZE2, reference=chamfer001_13_side)

    # Chamfer001 14
    chamfer001_14_edges = [part.edges().sort_by_distance(p)[0] for p in [
        (154.874012, 54.782843, 10.3),
    ]]
    chamfer001_14_side = part.faces().sort_by_distance((151.515254, 51.424086, 10.3))[0]
    chamfer(chamfer001_14_edges, length=CHAMFER001_14_SIZE, length2=CHAMFER001_14_SIZE2, reference=chamfer001_14_side)

    # Chamfer001 15
    chamfer001_15_edges = [part.edges().sort_by_distance(p)[0] for p in [
        (154.874012, 54.782843, -10.3),
    ]]
    chamfer001_15_side = part.faces().sort_by_distance((151.515254, 51.424086, -10.3))[0]
    chamfer(chamfer001_15_edges, length=CHAMFER001_15_SIZE, length2=CHAMFER001_15_SIZE2, reference=chamfer001_15_side)

    # Chamfer001 16
    chamfer001_16_edges = [part.edges().sort_by_distance(p)[0] for p in [
        (149.782843, 59.874012, -10.3),
    ]]
    chamfer001_16_side = part.faces().sort_by_distance((146.424086, 56.515254, -10.3))[0]
    chamfer(chamfer001_16_edges, length=CHAMFER001_16_SIZE, length2=CHAMFER001_16_SIZE2, reference=chamfer001_16_side)

    # Chamfer001 17
    chamfer001_17_edges = [part.edges().sort_by_distance(p)[0] for p in [
        (153.8, 33.6, 10.3),
    ]]
    chamfer001_17_side = part.faces().sort_by_distance((148.9, 33.6, 10.3))[0]
    chamfer(chamfer001_17_edges, length=CHAMFER001_17_SIZE, length2=CHAMFER001_17_SIZE2, reference=chamfer001_17_side)

    # Chamfer001 18
    chamfer001_18_edges = [part.edges().sort_by_distance(p)[0] for p in [
        (153.8, 33.6, -10.3),
    ]]
    chamfer001_18_side = part.faces().sort_by_distance((148.9, 33.6, -10.3))[0]
    chamfer(chamfer001_18_edges, length=CHAMFER001_18_SIZE, length2=CHAMFER001_18_SIZE2, reference=chamfer001_18_side)

    # Chamfer001 19
    chamfer001_19_edges = [part.edges().sort_by_distance(p)[0] for p in [
        (153.8, 26.4, -10.3),
    ]]
    chamfer001_19_side = part.faces().sort_by_distance((148.9, 26.4, -10.3))[0]
    chamfer(chamfer001_19_edges, length=CHAMFER001_19_SIZE, length2=CHAMFER001_19_SIZE2, reference=chamfer001_19_side)

    # Chamfer001 20
    chamfer001_20_edges = [part.edges().sort_by_distance(p)[0] for p in [
        (153.8, 26.4, 10.3),
    ]]
    chamfer001_20_side = part.faces().sort_by_distance((148.9, 26.4, 10.3))[0]
    chamfer(chamfer001_20_edges, length=CHAMFER001_20_SIZE, length2=CHAMFER001_20_SIZE2, reference=chamfer001_20_side)


solid = part.part
